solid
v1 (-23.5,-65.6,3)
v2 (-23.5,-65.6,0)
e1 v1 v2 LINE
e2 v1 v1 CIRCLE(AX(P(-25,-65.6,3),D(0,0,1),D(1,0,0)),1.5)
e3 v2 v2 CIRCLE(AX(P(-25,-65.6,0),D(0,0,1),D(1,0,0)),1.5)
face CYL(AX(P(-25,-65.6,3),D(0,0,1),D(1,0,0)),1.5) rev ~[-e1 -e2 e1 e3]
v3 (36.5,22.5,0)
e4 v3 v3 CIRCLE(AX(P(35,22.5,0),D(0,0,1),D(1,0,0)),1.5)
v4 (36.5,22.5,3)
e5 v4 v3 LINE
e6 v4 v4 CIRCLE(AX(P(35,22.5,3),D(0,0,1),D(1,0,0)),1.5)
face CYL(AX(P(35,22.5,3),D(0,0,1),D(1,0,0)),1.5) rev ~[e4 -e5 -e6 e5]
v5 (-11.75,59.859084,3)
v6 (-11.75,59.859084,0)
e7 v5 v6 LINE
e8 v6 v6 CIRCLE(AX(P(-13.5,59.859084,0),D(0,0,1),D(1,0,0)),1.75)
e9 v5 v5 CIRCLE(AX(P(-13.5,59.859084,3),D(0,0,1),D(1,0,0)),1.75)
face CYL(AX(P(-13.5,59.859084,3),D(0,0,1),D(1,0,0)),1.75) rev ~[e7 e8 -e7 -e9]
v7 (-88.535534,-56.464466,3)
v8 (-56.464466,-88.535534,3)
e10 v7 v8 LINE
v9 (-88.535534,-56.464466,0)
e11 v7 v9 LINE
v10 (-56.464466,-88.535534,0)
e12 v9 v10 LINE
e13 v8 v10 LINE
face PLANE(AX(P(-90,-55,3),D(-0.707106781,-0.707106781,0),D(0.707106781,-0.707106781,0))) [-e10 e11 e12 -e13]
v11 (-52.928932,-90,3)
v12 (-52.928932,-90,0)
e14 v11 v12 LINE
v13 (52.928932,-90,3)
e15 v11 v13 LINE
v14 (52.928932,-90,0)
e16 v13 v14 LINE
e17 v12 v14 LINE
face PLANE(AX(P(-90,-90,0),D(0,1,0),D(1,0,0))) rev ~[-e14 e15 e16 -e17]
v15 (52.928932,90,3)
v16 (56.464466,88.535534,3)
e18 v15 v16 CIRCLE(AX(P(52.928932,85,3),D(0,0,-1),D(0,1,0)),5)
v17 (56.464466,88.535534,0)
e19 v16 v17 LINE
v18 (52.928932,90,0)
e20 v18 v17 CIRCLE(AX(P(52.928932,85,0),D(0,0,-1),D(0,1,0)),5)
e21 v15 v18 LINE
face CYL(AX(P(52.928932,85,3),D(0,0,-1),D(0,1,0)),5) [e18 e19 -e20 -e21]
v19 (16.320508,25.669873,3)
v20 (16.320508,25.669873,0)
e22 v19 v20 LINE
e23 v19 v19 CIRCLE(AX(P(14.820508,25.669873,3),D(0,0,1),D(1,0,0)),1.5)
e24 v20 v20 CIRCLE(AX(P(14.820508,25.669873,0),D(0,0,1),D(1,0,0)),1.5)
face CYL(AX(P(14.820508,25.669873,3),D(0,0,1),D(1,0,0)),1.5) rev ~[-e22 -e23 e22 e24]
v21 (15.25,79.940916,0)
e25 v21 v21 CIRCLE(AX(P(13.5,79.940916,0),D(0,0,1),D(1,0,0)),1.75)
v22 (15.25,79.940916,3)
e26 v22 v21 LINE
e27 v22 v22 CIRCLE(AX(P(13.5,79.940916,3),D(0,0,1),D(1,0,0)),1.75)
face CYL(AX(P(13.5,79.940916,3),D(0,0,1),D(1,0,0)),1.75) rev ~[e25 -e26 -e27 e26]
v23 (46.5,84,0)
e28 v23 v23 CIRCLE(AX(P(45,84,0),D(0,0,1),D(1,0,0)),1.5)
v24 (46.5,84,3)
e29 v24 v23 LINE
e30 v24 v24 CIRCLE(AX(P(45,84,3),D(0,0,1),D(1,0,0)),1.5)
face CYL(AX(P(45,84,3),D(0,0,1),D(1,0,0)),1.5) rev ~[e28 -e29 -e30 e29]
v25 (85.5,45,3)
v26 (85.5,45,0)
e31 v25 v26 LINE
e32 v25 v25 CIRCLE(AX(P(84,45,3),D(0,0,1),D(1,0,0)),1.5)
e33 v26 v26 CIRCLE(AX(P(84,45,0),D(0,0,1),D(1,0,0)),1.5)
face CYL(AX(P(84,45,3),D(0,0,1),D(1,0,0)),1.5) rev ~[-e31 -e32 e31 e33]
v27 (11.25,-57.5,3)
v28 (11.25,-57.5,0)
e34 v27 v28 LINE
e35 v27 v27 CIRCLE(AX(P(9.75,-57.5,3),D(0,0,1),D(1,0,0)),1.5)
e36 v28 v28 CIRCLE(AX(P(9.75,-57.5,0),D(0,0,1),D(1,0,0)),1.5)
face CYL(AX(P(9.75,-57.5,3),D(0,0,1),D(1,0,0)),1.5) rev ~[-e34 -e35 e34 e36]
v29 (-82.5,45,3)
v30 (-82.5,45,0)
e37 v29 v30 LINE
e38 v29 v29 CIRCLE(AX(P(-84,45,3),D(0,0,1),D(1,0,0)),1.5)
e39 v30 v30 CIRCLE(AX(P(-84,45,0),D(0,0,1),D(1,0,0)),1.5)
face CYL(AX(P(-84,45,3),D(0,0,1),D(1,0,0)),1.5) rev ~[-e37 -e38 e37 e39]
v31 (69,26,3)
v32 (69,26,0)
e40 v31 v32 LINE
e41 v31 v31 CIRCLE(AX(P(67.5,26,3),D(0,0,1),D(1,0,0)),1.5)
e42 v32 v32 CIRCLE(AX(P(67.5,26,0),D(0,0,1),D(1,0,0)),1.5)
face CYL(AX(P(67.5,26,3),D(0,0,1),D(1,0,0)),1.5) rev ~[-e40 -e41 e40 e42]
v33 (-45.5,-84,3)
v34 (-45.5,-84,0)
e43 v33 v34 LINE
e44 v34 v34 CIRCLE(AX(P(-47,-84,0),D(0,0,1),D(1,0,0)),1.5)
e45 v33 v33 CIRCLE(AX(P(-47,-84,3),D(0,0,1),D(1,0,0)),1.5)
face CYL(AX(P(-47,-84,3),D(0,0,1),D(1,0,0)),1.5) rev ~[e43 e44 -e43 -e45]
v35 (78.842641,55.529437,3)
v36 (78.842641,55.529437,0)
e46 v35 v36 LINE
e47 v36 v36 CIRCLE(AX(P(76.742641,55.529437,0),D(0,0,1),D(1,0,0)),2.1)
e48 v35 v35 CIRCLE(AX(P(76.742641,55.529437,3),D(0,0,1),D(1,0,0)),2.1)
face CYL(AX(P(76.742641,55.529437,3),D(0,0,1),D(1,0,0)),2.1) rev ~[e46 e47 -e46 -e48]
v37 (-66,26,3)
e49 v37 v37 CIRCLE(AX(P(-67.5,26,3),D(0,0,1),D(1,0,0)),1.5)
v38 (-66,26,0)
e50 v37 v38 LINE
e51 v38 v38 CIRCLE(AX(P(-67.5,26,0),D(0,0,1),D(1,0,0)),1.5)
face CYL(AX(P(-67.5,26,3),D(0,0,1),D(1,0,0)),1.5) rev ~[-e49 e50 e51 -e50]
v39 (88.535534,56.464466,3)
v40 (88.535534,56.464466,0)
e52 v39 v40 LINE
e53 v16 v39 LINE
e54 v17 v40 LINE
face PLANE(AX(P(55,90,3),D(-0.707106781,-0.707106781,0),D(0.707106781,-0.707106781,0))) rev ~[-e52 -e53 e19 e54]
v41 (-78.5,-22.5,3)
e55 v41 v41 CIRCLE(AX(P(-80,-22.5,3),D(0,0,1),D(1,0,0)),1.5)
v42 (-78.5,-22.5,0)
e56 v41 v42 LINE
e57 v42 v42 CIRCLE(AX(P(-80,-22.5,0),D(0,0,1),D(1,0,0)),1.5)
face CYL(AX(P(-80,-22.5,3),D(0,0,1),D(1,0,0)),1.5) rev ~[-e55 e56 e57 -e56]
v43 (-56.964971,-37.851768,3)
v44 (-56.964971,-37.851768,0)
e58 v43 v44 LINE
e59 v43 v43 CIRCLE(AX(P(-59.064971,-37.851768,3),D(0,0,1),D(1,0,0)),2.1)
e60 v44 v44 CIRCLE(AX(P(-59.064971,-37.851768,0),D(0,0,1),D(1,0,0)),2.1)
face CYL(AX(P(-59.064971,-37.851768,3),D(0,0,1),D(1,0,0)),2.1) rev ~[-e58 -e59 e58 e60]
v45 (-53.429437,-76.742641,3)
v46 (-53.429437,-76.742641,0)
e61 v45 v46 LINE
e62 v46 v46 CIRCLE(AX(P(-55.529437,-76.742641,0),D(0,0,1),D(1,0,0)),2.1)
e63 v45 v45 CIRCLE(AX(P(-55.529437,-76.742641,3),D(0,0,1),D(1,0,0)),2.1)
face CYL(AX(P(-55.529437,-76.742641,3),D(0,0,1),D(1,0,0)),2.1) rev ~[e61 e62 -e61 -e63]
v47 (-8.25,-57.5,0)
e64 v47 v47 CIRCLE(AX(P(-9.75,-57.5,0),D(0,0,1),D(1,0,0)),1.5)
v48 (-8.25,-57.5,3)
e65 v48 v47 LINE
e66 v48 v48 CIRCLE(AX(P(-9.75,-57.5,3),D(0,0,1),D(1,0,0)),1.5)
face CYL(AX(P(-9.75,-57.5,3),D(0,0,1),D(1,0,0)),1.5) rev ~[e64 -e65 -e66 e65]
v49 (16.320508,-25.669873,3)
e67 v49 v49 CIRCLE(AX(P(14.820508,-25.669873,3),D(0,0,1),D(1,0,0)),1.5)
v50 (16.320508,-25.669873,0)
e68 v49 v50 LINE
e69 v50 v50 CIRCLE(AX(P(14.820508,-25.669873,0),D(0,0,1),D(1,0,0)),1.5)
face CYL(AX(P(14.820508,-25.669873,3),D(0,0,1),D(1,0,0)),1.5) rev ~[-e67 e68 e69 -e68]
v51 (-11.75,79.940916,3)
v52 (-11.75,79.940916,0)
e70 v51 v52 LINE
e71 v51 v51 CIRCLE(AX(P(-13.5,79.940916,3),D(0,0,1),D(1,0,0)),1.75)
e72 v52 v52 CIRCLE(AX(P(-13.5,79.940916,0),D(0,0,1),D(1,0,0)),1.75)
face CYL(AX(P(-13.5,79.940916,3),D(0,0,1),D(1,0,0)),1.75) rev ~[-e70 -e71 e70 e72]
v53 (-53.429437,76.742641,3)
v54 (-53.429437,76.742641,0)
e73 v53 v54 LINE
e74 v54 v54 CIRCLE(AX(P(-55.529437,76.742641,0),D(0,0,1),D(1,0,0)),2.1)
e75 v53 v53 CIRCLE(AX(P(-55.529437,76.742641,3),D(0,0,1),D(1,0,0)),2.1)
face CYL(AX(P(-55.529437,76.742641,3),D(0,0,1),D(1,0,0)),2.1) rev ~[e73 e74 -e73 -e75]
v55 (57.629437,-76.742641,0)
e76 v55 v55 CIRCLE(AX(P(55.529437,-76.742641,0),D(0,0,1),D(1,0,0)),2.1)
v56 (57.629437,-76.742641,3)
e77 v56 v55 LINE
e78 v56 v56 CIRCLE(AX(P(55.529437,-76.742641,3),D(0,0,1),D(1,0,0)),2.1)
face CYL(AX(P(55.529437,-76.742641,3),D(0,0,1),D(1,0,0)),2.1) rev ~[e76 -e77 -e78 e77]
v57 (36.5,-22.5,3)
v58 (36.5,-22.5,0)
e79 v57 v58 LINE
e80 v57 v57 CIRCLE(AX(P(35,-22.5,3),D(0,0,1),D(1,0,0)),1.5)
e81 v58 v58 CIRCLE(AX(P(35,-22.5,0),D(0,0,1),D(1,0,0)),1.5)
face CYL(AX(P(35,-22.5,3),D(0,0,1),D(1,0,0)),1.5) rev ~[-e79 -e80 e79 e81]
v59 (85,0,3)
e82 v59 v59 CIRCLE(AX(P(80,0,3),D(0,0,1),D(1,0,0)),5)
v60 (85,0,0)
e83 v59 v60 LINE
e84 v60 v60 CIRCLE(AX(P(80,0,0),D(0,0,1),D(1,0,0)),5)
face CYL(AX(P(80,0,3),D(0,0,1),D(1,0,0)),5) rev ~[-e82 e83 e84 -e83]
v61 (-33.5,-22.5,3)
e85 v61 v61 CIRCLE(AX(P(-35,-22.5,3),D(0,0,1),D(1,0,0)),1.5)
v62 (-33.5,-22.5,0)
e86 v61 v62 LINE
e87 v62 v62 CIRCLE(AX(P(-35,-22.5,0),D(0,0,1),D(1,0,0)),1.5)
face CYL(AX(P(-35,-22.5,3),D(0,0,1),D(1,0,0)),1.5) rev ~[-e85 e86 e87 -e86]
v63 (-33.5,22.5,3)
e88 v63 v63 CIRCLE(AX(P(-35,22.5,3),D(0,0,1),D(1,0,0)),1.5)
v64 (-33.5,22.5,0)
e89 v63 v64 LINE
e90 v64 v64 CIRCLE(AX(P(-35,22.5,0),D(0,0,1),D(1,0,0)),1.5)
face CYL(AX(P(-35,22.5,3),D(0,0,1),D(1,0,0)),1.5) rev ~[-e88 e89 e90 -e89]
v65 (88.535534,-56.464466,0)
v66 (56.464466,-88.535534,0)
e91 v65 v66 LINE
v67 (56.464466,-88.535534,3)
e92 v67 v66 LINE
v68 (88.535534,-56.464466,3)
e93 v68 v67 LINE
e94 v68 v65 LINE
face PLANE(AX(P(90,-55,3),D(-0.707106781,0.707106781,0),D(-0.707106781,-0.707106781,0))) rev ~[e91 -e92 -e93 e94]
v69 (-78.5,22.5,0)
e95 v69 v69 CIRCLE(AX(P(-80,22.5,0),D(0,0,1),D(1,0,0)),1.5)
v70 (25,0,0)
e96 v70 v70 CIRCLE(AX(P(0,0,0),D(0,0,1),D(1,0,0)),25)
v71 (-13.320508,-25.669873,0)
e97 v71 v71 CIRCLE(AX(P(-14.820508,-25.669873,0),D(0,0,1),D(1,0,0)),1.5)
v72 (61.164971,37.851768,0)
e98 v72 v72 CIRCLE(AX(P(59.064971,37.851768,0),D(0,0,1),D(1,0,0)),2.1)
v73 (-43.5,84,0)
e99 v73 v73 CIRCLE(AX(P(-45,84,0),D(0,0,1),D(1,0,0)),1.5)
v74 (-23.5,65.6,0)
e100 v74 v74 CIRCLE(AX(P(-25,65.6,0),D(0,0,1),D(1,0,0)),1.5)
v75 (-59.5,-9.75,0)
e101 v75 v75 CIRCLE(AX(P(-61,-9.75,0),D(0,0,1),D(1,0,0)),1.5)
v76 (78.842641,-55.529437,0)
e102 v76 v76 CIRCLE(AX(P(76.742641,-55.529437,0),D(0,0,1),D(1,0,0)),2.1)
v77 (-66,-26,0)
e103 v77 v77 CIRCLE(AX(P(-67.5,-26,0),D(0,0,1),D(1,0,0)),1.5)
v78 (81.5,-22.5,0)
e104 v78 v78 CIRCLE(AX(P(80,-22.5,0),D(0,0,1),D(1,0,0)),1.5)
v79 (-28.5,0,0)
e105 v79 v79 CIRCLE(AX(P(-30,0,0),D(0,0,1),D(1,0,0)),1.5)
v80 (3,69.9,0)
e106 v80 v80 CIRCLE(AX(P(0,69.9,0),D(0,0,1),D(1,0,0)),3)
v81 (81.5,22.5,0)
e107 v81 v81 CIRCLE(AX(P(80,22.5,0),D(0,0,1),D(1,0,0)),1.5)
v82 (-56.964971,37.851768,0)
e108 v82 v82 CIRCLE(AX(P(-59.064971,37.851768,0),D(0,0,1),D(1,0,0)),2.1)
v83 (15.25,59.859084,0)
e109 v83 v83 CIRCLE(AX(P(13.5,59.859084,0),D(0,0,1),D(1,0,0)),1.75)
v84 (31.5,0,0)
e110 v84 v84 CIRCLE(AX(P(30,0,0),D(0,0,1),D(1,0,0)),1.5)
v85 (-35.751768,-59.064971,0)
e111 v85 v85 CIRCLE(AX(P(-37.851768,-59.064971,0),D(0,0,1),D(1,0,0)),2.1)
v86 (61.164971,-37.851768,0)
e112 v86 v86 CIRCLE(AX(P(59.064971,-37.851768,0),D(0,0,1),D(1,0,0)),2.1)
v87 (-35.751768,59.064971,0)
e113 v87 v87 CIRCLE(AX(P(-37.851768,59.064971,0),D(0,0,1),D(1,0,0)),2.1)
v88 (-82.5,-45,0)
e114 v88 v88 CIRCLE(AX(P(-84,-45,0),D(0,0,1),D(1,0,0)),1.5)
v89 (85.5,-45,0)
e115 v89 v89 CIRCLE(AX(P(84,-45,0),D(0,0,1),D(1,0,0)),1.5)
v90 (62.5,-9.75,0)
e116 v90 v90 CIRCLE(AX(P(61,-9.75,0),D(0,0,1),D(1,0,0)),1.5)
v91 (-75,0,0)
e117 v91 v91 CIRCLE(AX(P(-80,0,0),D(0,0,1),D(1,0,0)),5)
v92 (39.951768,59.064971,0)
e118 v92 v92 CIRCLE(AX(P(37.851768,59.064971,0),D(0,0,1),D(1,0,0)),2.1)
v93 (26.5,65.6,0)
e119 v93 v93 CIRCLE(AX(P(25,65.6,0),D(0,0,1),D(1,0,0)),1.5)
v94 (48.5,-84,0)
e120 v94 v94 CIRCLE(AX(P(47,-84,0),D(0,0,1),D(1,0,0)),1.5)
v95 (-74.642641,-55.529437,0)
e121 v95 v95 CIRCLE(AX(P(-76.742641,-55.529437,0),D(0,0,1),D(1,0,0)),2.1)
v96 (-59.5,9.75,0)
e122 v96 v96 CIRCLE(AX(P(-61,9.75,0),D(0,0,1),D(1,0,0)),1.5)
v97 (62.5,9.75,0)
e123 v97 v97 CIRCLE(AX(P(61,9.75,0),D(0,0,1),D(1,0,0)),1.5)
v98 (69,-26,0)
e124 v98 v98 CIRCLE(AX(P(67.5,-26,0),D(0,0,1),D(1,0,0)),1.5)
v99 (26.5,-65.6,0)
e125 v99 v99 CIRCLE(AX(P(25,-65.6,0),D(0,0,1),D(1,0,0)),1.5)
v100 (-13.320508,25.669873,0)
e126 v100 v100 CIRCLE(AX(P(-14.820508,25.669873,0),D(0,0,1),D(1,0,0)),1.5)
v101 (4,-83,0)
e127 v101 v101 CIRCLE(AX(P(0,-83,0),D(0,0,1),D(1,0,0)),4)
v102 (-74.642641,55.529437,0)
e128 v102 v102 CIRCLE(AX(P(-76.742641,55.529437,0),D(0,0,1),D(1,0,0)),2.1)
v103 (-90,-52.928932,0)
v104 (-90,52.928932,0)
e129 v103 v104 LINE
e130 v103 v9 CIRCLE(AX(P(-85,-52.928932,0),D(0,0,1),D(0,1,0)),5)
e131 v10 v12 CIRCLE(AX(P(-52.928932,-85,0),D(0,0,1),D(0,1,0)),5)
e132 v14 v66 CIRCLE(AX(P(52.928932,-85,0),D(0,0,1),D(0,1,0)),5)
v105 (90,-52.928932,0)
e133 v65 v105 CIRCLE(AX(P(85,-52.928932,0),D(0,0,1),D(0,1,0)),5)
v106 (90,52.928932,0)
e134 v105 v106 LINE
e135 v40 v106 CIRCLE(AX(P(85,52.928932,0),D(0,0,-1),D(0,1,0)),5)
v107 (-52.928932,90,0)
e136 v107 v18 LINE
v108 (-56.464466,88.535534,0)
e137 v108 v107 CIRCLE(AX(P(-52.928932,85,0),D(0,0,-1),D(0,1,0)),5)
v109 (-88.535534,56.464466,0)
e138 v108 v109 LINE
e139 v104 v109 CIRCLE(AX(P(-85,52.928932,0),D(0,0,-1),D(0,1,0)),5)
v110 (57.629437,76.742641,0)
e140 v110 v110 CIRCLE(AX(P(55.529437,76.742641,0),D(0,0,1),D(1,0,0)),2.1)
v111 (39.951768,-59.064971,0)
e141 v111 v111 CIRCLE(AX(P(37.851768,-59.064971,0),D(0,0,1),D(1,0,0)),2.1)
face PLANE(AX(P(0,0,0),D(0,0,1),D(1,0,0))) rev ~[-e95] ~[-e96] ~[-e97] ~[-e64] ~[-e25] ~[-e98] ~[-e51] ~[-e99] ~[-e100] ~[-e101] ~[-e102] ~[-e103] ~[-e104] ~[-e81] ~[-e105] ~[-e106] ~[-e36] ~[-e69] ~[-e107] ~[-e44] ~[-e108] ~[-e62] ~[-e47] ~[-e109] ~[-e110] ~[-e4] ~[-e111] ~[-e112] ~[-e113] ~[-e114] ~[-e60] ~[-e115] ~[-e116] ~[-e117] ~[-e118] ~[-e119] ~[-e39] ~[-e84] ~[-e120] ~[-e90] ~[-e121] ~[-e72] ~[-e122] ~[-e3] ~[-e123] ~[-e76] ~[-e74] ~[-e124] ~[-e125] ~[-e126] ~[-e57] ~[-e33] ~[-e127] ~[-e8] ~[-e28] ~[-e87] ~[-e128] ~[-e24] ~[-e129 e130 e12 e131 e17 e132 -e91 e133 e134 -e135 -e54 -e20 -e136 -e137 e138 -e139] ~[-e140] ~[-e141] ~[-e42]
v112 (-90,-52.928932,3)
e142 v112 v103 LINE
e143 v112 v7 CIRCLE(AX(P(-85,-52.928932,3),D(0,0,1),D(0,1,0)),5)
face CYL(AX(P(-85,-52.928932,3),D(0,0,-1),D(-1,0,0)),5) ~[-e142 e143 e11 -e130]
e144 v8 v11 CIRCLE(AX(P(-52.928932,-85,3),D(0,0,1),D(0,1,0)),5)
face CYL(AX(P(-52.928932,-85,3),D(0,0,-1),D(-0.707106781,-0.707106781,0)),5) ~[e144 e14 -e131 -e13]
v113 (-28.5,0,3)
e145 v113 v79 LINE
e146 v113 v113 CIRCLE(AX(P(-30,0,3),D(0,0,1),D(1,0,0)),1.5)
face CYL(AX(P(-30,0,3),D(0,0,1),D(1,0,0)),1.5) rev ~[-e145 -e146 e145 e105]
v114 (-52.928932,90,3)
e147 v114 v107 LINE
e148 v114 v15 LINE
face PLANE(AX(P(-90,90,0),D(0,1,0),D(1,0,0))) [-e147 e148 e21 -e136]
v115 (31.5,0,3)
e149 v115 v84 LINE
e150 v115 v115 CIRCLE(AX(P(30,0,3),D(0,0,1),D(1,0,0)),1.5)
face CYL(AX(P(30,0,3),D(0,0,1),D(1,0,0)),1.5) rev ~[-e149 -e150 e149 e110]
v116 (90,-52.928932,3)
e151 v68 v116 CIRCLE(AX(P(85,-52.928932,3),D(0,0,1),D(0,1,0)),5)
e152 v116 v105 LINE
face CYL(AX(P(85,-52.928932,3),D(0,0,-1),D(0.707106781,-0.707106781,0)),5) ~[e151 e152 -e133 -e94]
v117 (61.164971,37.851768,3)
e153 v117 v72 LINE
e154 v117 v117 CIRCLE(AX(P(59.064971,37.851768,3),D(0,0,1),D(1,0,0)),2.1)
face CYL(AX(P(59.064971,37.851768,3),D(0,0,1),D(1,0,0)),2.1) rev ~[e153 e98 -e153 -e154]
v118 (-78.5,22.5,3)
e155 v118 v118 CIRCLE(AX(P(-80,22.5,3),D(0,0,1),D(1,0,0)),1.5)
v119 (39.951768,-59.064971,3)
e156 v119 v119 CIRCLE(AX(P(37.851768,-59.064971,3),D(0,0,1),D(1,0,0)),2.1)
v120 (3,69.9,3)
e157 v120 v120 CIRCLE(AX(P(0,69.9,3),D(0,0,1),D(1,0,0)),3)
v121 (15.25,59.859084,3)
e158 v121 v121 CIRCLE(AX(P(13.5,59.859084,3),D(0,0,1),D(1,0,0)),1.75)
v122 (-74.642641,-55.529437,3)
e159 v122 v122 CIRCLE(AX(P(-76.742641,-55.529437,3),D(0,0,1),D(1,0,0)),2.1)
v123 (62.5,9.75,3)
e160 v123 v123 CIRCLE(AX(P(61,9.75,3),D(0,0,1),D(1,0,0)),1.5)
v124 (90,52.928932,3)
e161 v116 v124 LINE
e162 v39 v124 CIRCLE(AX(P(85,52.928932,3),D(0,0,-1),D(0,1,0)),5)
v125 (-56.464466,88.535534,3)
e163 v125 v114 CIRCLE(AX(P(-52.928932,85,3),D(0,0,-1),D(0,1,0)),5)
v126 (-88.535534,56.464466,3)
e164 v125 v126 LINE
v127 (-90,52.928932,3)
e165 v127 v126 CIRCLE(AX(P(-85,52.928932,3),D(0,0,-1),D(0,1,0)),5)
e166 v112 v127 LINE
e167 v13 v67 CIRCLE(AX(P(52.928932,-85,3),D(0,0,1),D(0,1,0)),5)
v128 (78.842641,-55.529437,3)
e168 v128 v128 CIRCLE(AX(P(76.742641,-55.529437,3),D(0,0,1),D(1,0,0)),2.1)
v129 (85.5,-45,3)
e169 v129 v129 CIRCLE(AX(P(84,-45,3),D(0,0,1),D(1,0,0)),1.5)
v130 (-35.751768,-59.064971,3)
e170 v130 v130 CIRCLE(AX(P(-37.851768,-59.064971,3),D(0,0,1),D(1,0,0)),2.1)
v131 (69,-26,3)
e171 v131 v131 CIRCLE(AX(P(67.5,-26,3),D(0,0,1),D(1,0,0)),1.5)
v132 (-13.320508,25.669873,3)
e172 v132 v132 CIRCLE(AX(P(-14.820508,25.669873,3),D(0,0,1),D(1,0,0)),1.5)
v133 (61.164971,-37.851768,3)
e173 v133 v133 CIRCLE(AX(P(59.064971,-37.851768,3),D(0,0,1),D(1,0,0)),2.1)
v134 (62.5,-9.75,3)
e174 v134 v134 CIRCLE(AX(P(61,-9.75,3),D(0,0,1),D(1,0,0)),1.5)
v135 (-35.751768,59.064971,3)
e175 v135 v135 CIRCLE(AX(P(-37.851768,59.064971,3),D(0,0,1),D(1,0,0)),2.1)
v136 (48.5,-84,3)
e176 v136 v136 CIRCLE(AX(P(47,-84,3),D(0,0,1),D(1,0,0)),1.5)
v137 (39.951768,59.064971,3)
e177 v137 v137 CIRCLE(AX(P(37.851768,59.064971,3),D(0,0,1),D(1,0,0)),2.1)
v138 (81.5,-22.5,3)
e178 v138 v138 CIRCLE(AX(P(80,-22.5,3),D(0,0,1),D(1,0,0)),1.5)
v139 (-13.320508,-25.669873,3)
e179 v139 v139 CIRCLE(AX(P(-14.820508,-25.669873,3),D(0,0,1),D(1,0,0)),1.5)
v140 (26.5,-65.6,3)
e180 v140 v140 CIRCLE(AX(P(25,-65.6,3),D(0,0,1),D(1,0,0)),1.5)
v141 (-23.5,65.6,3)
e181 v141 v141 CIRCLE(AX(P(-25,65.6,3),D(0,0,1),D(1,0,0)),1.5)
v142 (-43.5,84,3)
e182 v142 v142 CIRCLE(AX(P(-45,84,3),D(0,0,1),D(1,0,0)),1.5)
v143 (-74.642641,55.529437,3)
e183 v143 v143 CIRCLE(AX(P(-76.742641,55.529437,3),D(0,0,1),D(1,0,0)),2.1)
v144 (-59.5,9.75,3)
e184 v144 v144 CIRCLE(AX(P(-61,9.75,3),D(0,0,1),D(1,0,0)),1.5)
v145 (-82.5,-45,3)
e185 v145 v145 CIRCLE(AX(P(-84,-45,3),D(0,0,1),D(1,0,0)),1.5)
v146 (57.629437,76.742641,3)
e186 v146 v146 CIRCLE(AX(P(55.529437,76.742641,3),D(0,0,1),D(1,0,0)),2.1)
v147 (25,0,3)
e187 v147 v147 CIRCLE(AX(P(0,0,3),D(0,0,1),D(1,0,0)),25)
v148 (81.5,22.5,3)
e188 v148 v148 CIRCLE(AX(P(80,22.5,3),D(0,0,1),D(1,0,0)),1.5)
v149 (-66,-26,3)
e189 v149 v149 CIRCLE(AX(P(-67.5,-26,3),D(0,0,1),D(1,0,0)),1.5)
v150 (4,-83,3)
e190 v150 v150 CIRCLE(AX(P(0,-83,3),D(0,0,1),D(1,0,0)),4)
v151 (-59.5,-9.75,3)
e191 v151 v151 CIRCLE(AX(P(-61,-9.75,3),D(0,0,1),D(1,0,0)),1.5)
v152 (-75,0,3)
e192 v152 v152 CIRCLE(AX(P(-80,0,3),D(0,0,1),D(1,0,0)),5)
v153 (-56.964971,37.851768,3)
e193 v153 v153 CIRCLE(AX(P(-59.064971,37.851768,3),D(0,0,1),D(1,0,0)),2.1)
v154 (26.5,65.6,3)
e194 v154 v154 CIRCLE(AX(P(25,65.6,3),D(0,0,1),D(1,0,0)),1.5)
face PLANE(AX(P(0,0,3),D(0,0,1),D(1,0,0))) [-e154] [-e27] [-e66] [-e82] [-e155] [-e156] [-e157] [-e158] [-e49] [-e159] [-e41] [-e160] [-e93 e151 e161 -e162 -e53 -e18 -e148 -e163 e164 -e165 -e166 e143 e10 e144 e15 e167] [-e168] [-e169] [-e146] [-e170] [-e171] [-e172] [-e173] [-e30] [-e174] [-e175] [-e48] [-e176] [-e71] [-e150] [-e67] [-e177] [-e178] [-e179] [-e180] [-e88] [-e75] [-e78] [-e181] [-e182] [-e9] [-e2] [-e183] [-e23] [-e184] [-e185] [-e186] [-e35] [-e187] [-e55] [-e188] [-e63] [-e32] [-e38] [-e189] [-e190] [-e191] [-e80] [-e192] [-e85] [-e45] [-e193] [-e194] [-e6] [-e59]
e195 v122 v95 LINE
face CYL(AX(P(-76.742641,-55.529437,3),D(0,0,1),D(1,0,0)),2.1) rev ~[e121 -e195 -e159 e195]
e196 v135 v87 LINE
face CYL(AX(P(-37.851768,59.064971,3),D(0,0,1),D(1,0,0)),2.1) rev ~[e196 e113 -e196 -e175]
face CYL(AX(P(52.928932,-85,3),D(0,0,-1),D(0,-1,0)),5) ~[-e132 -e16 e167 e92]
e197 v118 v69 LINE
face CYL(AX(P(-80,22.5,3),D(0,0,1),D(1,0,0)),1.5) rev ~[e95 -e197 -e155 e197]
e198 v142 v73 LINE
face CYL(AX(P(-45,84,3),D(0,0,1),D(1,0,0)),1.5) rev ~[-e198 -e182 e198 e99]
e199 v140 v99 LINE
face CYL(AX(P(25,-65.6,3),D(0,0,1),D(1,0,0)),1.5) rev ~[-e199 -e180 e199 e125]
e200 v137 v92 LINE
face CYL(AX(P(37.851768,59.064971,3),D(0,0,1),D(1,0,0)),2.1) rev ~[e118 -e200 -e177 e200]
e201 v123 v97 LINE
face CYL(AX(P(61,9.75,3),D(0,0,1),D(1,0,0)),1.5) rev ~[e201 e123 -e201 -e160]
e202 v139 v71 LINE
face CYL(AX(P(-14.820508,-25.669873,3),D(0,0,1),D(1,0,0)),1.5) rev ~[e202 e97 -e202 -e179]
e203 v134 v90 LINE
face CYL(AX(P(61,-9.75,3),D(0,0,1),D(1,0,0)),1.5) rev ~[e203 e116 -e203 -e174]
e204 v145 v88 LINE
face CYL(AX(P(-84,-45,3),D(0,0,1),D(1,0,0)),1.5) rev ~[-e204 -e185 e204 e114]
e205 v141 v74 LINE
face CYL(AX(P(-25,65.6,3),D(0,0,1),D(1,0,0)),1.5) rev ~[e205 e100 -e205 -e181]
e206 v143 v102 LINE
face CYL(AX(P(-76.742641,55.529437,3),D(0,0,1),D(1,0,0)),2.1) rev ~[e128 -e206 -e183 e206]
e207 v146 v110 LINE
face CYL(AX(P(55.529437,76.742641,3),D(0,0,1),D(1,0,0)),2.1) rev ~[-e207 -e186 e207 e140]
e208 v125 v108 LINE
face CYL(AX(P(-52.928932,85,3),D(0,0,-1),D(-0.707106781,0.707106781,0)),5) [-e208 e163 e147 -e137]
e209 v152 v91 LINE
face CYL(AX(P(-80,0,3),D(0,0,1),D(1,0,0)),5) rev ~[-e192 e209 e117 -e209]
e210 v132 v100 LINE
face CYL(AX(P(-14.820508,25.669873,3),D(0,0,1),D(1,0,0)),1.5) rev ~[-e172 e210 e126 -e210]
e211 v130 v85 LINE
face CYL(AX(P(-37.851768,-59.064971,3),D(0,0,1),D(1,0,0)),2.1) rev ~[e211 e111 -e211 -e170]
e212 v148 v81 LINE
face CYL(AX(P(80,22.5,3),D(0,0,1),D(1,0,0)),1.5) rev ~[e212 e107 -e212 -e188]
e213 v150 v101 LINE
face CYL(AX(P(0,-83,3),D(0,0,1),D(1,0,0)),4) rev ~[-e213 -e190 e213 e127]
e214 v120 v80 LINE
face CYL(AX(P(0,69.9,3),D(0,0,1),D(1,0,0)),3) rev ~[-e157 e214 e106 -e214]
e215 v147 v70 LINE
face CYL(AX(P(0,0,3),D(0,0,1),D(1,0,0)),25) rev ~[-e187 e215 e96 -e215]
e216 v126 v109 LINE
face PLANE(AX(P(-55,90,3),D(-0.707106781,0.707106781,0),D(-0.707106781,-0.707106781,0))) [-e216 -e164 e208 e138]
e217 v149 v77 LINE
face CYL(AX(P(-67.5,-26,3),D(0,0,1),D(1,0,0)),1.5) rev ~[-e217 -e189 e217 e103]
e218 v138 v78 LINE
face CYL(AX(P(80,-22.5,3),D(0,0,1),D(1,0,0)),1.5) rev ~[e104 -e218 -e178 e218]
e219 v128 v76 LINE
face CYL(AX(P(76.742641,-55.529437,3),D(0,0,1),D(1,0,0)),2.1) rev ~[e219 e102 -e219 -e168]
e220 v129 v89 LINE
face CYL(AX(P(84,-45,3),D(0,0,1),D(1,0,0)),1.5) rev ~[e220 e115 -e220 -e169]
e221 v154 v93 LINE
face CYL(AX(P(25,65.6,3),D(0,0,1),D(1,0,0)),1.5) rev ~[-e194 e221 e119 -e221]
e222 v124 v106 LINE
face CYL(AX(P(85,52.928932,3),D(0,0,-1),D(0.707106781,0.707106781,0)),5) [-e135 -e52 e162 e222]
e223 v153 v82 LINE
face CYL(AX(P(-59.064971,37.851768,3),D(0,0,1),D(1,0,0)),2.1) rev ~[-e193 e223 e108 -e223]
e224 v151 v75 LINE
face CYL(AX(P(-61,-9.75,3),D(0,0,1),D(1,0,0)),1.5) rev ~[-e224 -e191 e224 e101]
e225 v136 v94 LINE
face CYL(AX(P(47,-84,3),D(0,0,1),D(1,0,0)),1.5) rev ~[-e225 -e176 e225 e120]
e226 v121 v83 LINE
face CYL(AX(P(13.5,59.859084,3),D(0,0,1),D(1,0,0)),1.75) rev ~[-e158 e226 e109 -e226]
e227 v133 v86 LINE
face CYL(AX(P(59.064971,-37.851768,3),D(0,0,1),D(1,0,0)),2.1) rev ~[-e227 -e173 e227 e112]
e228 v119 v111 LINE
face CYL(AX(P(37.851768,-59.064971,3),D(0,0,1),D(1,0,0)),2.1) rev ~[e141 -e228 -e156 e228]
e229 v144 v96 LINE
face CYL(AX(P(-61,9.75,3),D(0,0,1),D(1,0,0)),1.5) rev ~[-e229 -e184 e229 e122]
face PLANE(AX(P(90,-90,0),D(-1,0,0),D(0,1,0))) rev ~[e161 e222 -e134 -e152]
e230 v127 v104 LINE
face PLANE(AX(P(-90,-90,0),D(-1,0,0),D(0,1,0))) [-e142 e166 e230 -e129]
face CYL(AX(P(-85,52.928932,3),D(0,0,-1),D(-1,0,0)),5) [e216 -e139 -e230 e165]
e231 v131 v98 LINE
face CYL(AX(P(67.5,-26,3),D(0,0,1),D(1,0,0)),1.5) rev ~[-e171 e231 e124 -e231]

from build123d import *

# Parameters (mm, degrees)
SKETCH_1_W           = 180
SKETCH_1_H           = 180
EXTRUDE_1_DEPTH      = 3
CUT_EXTRUDE_1_DEPTH  = 3
SKETCH_3_R           = 2.1
CUT_EXTRUDE_2_DEPTH  = 3
SKETCH_4_R           = 25
SKETCH_4_R_2         = 1.5
CUT_EXTRUDE_3_DEPTH  = 3
SKETCH_5_R           = 1.5
SKETCH_5_R_2         = 5
CUT_EXTRUDE_4_DEPTH  = 3
SKETCH_6_R           = 1.5
CUT_EXTRUDE_5_DEPTH  = 3
FILLET_2_R           = 5
SKETCH_7_R           = 1.5
CUT_EXTRUDE_6_DEPTH  = 3
SKETCH_8_R           = 1.5
CUT_EXTRUDE_7_DEPTH  = 3
SKETCH_10_R          = 1.5
CUT_EXTRUDE_9_DEPTH  = 3
SKETCH_11_R          = 1.5
SKETCH_11_R_2        = 4
CUT_EXTRUDE_10_DEPTH = 3
SKETCH_12_R          = 3
CUT_EXTRUDE_11_DEPTH = 3
SKETCH_13_R          = 1.75
CUT_EXTRUDE_12_DEPTH = 3


with BuildPart() as part:
    # 草图1 → 凸台-拉伸1 (new body)
    with BuildSketch(Plane.XY):
        Rectangle(SKETCH_1_W, SKETCH_1_H)
    extrude(amount=EXTRUDE_1_DEPTH)

    # 草图2 → 切除-拉伸1 (cut)
    with BuildSketch(Plane.XY.offset(3)):
        Polygon((-90, 90), (-55, 90), (-90, 55), align=None)
        Polygon((90, 90), (55, 90), (90, 55), align=None)
        Polygon((-90, -90), (-90, -55), (-55, -90), align=None)
        Polygon((90, -90), (90, -55), (55, -90), align=None)
    extrude(amount=-CUT_EXTRUDE_1_DEPTH, mode=Mode.SUBTRACT)

    # 草图3 → 切除-拉伸2 (cut)
    with BuildSketch(Plane.XY.offset(3)):
        with Locations((55.529437252, 76.742640687)):
            Circle(SKETCH_3_R)
        with Locations((76.742640687, 55.529437252)):
            Circle(SKETCH_3_R)
        with Locations((59.064971157, 37.851767722)):
            Circle(SKETCH_3_R)
        with Locations((37.851767722, 59.064971157)):
            Circle(SKETCH_3_R)
        with Locations((-55.529437252, 76.742640687)):
            Circle(SKETCH_3_R)
        with Locations((-37.851767722, 59.064971157)):
            Circle(SKETCH_3_R)
        with Locations((-59.064971157, 37.851767722)):
            Circle(SKETCH_3_R)
        with Locations((-76.742640687, 55.529437252)):
            Circle(SKETCH_3_R)
        with Locations((-59.064971157, -37.851767722)):
            Circle(SKETCH_3_R)
        with Locations((-76.742640687, -55.529437252)):
            Circle(SKETCH_3_R)
        with Locations((-37.851767722, -59.064971157)):
            Circle(SKETCH_3_R)
        with Locations((-55.529437252, -76.742640687)):
            Circle(SKETCH_3_R)
        with Locations((76.742640687, -55.529437252)):
            Circle(SKETCH_3_R)
        with Locations((55.529437252, -76.742640687)):
            Circle(SKETCH_3_R)
        with Locations((37.851767722, -59.064971157)):
            Circle(SKETCH_3_R)
        with Locations((59.064971157, -37.851767722)):
            Circle(SKETCH_3_R)
    extrude(amount=-CUT_EXTRUDE_2_DEPTH, mode=Mode.SUBTRACT)

    # 草图4 → 切除-拉伸3 (cut)
    with BuildSketch(Plane.XY.offset(3)):
        Circle(SKETCH_4_R)
        with Locations((67.5, 26)):
            Circle(SKETCH_4_R_2)
        with Locations((67.5, -26)):
            Circle(SKETCH_4_R_2)
        with Locations((-67.5, -26)):
            Circle(SKETCH_4_R_2)
        with Locations((-67.5, 26)):
            Circle(SKETCH_4_R_2)
    extrude(amount=-CUT_EXTRUDE_3_DEPTH, mode=Mode.SUBTRACT)

    # 草图5 → 切除-拉伸4 (cut)
    with BuildSketch(Plane.XY.offset(3)):
        with Locations((61, 9.75)):
            Circle(SKETCH_5_R)
        with Locations((61, -9.75)):
            Circle(SKETCH_5_R)
        with Locations((80, 0)):
            Circle(SKETCH_5_R_2)
        with Locations((35, 22.5)):
            Circle(SKETCH_5_R)
        with Locations((35, -22.5)):
            Circle(SKETCH_5_R)
        with Locations((80, -22.5)):
            Circle(SKETCH_5_R)
        with Locations((80, 22.5)):
            Circle(SKETCH_5_R)
        with Locations((-80, 22.5)):
            Circle(SKETCH_5_R)
        with Locations((-80, -22.5)):
            Circle(SKETCH_5_R)
        with Locations((-35, -22.5)):
            Circle(SKETCH_5_R)
        with Locations((-35, 22.5)):
            Circle(SKETCH_5_R)
        with Locations((-61, 9.75)):
            Circle(SKETCH_5_R)
        with Locations((-61, -9.75)):
            Circle(SKETCH_5_R)
        with Locations((-80, 0)):
            Circle(SKETCH_5_R_2)
    extrude(amount=-CUT_EXTRUDE_4_DEPTH, mode=Mode.SUBTRACT)

    # 草图6 → 切除-拉伸5 (cut)
    with BuildSketch(Plane.XY.offset(3)):
        with Locations((14.820508076, 25.669872981)):
            Circle(SKETCH_6_R)
        with Locations((-14.820508076, 25.669872981)):
            Circle(SKETCH_6_R)
        with Locations((-30, 0)):
            Circle(SKETCH_6_R)
        with Locations((-14.820508076, -25.669872981)):
            Circle(SKETCH_6_R)
        with Locations((14.820508076, -25.669872981)):
            Circle(SKETCH_6_R)
        with Locations((30, 0)):
            Circle(SKETCH_6_R)
    extrude(amount=-CUT_EXTRUDE_5_DEPTH, mode=Mode.SUBTRACT)

    # 圆角2
    fillet_2_edges = [part.edges().sort_by_distance(p)[0] for p in [
        (90, 55, 1.5),
        (55, 90, 1.5),
        (-55, -90, 1.5),
        (-90, -55, 1.5),
        (55, -90, 1.5),
        (90, -55, 1.5),
        (-90, 55, 1.5),
        (-55, 90, 1.5),
    ]]
    fillet(fillet_2_edges, radius=FILLET_2_R)

    # 草图7 → 切除-拉伸6 (cut)
    with BuildSketch(Plane.XY.offset(3)):
        with Locations((-25, 65.6)):
            Circle(SKETCH_7_R)
        with Locations((25, 65.6)):
            Circle(SKETCH_7_R)
    extrude(amount=-CUT_EXTRUDE_6_DEPTH, mode=Mode.SUBTRACT)

    # 草图8 → 切除-拉伸7 (cut)
    with BuildSketch(Plane.XY.offset(3)):
        with Locations((25, -65.6)):
            Circle(SKETCH_8_R)
        with Locations((-25, -65.6)):
            Circle(SKETCH_8_R)
    extrude(amount=-CUT_EXTRUDE_7_DEPTH, mode=Mode.SUBTRACT)

    # 草图10 → 切除-拉伸9 (cut)
    with BuildSketch(Plane.XY.offset(3)):
        with Locations((-47, -84)):
            Circle(SKETCH_10_R)
        with Locations((47, -84)):
            Circle(SKETCH_10_R)
        with Locations((-84, -45)):
            Circle(SKETCH_10_R)
        with Locations((-84, 45)):
            Circle(SKETCH_10_R)
        with Locations((84, -45)):
            Circle(SKETCH_10_R)
        with Locations((84, 45)):
            Circle(SKETCH_10_R)
        with Locations((-45, 84)):
            Circle(SKETCH_10_R)
        with Locations((45, 84)):
            Circle(SKETCH_10_R)
    extrude(amount=-CUT_EXTRUDE_9_DEPTH, mode=Mode.SUBTRACT)

    # 草图11 → 切除-拉伸10 (cut)
    with BuildSketch(Plane.XY.offset(3)):
        with Locations((9.75, -57.5)):
            Circle(SKETCH_11_R)
        with Locations((-9.75, -57.5)):
            Circle(SKETCH_11_R)
        with Locations((0, -83)):
            Circle(SKETCH_11_R_2)
    extrude(amount=-CUT_EXTRUDE_10_DEPTH, mode=Mode.SUBTRACT)

    # 草图12 → 切除-拉伸11 (cut)
    with BuildSketch(Plane.XY.offset(3)):
        with Locations((0, 69.9)):
            Circle(SKETCH_12_R)
    extrude(amount=-CUT_EXTRUDE_11_DEPTH, mode=Mode.SUBTRACT)

    # 草图13 → 切除-拉伸12 (cut)
    with BuildSketch(Plane.XY.offset(3)):
        with Locations((-13.5, 79.940916293)):
            Circle(SKETCH_13_R)
        with Locations((-13.5, 59.859083707)):
            Circle(SKETCH_13_R)
        with Locations((13.5, 59.859083707)):
            Circle(SKETCH_13_R)
        with Locations((13.5, 79.940916293)):
            Circle(SKETCH_13_R)
    extrude(amount=-CUT_EXTRUDE_12_DEPTH, mode=Mode.SUBTRACT)


solid = part.part
